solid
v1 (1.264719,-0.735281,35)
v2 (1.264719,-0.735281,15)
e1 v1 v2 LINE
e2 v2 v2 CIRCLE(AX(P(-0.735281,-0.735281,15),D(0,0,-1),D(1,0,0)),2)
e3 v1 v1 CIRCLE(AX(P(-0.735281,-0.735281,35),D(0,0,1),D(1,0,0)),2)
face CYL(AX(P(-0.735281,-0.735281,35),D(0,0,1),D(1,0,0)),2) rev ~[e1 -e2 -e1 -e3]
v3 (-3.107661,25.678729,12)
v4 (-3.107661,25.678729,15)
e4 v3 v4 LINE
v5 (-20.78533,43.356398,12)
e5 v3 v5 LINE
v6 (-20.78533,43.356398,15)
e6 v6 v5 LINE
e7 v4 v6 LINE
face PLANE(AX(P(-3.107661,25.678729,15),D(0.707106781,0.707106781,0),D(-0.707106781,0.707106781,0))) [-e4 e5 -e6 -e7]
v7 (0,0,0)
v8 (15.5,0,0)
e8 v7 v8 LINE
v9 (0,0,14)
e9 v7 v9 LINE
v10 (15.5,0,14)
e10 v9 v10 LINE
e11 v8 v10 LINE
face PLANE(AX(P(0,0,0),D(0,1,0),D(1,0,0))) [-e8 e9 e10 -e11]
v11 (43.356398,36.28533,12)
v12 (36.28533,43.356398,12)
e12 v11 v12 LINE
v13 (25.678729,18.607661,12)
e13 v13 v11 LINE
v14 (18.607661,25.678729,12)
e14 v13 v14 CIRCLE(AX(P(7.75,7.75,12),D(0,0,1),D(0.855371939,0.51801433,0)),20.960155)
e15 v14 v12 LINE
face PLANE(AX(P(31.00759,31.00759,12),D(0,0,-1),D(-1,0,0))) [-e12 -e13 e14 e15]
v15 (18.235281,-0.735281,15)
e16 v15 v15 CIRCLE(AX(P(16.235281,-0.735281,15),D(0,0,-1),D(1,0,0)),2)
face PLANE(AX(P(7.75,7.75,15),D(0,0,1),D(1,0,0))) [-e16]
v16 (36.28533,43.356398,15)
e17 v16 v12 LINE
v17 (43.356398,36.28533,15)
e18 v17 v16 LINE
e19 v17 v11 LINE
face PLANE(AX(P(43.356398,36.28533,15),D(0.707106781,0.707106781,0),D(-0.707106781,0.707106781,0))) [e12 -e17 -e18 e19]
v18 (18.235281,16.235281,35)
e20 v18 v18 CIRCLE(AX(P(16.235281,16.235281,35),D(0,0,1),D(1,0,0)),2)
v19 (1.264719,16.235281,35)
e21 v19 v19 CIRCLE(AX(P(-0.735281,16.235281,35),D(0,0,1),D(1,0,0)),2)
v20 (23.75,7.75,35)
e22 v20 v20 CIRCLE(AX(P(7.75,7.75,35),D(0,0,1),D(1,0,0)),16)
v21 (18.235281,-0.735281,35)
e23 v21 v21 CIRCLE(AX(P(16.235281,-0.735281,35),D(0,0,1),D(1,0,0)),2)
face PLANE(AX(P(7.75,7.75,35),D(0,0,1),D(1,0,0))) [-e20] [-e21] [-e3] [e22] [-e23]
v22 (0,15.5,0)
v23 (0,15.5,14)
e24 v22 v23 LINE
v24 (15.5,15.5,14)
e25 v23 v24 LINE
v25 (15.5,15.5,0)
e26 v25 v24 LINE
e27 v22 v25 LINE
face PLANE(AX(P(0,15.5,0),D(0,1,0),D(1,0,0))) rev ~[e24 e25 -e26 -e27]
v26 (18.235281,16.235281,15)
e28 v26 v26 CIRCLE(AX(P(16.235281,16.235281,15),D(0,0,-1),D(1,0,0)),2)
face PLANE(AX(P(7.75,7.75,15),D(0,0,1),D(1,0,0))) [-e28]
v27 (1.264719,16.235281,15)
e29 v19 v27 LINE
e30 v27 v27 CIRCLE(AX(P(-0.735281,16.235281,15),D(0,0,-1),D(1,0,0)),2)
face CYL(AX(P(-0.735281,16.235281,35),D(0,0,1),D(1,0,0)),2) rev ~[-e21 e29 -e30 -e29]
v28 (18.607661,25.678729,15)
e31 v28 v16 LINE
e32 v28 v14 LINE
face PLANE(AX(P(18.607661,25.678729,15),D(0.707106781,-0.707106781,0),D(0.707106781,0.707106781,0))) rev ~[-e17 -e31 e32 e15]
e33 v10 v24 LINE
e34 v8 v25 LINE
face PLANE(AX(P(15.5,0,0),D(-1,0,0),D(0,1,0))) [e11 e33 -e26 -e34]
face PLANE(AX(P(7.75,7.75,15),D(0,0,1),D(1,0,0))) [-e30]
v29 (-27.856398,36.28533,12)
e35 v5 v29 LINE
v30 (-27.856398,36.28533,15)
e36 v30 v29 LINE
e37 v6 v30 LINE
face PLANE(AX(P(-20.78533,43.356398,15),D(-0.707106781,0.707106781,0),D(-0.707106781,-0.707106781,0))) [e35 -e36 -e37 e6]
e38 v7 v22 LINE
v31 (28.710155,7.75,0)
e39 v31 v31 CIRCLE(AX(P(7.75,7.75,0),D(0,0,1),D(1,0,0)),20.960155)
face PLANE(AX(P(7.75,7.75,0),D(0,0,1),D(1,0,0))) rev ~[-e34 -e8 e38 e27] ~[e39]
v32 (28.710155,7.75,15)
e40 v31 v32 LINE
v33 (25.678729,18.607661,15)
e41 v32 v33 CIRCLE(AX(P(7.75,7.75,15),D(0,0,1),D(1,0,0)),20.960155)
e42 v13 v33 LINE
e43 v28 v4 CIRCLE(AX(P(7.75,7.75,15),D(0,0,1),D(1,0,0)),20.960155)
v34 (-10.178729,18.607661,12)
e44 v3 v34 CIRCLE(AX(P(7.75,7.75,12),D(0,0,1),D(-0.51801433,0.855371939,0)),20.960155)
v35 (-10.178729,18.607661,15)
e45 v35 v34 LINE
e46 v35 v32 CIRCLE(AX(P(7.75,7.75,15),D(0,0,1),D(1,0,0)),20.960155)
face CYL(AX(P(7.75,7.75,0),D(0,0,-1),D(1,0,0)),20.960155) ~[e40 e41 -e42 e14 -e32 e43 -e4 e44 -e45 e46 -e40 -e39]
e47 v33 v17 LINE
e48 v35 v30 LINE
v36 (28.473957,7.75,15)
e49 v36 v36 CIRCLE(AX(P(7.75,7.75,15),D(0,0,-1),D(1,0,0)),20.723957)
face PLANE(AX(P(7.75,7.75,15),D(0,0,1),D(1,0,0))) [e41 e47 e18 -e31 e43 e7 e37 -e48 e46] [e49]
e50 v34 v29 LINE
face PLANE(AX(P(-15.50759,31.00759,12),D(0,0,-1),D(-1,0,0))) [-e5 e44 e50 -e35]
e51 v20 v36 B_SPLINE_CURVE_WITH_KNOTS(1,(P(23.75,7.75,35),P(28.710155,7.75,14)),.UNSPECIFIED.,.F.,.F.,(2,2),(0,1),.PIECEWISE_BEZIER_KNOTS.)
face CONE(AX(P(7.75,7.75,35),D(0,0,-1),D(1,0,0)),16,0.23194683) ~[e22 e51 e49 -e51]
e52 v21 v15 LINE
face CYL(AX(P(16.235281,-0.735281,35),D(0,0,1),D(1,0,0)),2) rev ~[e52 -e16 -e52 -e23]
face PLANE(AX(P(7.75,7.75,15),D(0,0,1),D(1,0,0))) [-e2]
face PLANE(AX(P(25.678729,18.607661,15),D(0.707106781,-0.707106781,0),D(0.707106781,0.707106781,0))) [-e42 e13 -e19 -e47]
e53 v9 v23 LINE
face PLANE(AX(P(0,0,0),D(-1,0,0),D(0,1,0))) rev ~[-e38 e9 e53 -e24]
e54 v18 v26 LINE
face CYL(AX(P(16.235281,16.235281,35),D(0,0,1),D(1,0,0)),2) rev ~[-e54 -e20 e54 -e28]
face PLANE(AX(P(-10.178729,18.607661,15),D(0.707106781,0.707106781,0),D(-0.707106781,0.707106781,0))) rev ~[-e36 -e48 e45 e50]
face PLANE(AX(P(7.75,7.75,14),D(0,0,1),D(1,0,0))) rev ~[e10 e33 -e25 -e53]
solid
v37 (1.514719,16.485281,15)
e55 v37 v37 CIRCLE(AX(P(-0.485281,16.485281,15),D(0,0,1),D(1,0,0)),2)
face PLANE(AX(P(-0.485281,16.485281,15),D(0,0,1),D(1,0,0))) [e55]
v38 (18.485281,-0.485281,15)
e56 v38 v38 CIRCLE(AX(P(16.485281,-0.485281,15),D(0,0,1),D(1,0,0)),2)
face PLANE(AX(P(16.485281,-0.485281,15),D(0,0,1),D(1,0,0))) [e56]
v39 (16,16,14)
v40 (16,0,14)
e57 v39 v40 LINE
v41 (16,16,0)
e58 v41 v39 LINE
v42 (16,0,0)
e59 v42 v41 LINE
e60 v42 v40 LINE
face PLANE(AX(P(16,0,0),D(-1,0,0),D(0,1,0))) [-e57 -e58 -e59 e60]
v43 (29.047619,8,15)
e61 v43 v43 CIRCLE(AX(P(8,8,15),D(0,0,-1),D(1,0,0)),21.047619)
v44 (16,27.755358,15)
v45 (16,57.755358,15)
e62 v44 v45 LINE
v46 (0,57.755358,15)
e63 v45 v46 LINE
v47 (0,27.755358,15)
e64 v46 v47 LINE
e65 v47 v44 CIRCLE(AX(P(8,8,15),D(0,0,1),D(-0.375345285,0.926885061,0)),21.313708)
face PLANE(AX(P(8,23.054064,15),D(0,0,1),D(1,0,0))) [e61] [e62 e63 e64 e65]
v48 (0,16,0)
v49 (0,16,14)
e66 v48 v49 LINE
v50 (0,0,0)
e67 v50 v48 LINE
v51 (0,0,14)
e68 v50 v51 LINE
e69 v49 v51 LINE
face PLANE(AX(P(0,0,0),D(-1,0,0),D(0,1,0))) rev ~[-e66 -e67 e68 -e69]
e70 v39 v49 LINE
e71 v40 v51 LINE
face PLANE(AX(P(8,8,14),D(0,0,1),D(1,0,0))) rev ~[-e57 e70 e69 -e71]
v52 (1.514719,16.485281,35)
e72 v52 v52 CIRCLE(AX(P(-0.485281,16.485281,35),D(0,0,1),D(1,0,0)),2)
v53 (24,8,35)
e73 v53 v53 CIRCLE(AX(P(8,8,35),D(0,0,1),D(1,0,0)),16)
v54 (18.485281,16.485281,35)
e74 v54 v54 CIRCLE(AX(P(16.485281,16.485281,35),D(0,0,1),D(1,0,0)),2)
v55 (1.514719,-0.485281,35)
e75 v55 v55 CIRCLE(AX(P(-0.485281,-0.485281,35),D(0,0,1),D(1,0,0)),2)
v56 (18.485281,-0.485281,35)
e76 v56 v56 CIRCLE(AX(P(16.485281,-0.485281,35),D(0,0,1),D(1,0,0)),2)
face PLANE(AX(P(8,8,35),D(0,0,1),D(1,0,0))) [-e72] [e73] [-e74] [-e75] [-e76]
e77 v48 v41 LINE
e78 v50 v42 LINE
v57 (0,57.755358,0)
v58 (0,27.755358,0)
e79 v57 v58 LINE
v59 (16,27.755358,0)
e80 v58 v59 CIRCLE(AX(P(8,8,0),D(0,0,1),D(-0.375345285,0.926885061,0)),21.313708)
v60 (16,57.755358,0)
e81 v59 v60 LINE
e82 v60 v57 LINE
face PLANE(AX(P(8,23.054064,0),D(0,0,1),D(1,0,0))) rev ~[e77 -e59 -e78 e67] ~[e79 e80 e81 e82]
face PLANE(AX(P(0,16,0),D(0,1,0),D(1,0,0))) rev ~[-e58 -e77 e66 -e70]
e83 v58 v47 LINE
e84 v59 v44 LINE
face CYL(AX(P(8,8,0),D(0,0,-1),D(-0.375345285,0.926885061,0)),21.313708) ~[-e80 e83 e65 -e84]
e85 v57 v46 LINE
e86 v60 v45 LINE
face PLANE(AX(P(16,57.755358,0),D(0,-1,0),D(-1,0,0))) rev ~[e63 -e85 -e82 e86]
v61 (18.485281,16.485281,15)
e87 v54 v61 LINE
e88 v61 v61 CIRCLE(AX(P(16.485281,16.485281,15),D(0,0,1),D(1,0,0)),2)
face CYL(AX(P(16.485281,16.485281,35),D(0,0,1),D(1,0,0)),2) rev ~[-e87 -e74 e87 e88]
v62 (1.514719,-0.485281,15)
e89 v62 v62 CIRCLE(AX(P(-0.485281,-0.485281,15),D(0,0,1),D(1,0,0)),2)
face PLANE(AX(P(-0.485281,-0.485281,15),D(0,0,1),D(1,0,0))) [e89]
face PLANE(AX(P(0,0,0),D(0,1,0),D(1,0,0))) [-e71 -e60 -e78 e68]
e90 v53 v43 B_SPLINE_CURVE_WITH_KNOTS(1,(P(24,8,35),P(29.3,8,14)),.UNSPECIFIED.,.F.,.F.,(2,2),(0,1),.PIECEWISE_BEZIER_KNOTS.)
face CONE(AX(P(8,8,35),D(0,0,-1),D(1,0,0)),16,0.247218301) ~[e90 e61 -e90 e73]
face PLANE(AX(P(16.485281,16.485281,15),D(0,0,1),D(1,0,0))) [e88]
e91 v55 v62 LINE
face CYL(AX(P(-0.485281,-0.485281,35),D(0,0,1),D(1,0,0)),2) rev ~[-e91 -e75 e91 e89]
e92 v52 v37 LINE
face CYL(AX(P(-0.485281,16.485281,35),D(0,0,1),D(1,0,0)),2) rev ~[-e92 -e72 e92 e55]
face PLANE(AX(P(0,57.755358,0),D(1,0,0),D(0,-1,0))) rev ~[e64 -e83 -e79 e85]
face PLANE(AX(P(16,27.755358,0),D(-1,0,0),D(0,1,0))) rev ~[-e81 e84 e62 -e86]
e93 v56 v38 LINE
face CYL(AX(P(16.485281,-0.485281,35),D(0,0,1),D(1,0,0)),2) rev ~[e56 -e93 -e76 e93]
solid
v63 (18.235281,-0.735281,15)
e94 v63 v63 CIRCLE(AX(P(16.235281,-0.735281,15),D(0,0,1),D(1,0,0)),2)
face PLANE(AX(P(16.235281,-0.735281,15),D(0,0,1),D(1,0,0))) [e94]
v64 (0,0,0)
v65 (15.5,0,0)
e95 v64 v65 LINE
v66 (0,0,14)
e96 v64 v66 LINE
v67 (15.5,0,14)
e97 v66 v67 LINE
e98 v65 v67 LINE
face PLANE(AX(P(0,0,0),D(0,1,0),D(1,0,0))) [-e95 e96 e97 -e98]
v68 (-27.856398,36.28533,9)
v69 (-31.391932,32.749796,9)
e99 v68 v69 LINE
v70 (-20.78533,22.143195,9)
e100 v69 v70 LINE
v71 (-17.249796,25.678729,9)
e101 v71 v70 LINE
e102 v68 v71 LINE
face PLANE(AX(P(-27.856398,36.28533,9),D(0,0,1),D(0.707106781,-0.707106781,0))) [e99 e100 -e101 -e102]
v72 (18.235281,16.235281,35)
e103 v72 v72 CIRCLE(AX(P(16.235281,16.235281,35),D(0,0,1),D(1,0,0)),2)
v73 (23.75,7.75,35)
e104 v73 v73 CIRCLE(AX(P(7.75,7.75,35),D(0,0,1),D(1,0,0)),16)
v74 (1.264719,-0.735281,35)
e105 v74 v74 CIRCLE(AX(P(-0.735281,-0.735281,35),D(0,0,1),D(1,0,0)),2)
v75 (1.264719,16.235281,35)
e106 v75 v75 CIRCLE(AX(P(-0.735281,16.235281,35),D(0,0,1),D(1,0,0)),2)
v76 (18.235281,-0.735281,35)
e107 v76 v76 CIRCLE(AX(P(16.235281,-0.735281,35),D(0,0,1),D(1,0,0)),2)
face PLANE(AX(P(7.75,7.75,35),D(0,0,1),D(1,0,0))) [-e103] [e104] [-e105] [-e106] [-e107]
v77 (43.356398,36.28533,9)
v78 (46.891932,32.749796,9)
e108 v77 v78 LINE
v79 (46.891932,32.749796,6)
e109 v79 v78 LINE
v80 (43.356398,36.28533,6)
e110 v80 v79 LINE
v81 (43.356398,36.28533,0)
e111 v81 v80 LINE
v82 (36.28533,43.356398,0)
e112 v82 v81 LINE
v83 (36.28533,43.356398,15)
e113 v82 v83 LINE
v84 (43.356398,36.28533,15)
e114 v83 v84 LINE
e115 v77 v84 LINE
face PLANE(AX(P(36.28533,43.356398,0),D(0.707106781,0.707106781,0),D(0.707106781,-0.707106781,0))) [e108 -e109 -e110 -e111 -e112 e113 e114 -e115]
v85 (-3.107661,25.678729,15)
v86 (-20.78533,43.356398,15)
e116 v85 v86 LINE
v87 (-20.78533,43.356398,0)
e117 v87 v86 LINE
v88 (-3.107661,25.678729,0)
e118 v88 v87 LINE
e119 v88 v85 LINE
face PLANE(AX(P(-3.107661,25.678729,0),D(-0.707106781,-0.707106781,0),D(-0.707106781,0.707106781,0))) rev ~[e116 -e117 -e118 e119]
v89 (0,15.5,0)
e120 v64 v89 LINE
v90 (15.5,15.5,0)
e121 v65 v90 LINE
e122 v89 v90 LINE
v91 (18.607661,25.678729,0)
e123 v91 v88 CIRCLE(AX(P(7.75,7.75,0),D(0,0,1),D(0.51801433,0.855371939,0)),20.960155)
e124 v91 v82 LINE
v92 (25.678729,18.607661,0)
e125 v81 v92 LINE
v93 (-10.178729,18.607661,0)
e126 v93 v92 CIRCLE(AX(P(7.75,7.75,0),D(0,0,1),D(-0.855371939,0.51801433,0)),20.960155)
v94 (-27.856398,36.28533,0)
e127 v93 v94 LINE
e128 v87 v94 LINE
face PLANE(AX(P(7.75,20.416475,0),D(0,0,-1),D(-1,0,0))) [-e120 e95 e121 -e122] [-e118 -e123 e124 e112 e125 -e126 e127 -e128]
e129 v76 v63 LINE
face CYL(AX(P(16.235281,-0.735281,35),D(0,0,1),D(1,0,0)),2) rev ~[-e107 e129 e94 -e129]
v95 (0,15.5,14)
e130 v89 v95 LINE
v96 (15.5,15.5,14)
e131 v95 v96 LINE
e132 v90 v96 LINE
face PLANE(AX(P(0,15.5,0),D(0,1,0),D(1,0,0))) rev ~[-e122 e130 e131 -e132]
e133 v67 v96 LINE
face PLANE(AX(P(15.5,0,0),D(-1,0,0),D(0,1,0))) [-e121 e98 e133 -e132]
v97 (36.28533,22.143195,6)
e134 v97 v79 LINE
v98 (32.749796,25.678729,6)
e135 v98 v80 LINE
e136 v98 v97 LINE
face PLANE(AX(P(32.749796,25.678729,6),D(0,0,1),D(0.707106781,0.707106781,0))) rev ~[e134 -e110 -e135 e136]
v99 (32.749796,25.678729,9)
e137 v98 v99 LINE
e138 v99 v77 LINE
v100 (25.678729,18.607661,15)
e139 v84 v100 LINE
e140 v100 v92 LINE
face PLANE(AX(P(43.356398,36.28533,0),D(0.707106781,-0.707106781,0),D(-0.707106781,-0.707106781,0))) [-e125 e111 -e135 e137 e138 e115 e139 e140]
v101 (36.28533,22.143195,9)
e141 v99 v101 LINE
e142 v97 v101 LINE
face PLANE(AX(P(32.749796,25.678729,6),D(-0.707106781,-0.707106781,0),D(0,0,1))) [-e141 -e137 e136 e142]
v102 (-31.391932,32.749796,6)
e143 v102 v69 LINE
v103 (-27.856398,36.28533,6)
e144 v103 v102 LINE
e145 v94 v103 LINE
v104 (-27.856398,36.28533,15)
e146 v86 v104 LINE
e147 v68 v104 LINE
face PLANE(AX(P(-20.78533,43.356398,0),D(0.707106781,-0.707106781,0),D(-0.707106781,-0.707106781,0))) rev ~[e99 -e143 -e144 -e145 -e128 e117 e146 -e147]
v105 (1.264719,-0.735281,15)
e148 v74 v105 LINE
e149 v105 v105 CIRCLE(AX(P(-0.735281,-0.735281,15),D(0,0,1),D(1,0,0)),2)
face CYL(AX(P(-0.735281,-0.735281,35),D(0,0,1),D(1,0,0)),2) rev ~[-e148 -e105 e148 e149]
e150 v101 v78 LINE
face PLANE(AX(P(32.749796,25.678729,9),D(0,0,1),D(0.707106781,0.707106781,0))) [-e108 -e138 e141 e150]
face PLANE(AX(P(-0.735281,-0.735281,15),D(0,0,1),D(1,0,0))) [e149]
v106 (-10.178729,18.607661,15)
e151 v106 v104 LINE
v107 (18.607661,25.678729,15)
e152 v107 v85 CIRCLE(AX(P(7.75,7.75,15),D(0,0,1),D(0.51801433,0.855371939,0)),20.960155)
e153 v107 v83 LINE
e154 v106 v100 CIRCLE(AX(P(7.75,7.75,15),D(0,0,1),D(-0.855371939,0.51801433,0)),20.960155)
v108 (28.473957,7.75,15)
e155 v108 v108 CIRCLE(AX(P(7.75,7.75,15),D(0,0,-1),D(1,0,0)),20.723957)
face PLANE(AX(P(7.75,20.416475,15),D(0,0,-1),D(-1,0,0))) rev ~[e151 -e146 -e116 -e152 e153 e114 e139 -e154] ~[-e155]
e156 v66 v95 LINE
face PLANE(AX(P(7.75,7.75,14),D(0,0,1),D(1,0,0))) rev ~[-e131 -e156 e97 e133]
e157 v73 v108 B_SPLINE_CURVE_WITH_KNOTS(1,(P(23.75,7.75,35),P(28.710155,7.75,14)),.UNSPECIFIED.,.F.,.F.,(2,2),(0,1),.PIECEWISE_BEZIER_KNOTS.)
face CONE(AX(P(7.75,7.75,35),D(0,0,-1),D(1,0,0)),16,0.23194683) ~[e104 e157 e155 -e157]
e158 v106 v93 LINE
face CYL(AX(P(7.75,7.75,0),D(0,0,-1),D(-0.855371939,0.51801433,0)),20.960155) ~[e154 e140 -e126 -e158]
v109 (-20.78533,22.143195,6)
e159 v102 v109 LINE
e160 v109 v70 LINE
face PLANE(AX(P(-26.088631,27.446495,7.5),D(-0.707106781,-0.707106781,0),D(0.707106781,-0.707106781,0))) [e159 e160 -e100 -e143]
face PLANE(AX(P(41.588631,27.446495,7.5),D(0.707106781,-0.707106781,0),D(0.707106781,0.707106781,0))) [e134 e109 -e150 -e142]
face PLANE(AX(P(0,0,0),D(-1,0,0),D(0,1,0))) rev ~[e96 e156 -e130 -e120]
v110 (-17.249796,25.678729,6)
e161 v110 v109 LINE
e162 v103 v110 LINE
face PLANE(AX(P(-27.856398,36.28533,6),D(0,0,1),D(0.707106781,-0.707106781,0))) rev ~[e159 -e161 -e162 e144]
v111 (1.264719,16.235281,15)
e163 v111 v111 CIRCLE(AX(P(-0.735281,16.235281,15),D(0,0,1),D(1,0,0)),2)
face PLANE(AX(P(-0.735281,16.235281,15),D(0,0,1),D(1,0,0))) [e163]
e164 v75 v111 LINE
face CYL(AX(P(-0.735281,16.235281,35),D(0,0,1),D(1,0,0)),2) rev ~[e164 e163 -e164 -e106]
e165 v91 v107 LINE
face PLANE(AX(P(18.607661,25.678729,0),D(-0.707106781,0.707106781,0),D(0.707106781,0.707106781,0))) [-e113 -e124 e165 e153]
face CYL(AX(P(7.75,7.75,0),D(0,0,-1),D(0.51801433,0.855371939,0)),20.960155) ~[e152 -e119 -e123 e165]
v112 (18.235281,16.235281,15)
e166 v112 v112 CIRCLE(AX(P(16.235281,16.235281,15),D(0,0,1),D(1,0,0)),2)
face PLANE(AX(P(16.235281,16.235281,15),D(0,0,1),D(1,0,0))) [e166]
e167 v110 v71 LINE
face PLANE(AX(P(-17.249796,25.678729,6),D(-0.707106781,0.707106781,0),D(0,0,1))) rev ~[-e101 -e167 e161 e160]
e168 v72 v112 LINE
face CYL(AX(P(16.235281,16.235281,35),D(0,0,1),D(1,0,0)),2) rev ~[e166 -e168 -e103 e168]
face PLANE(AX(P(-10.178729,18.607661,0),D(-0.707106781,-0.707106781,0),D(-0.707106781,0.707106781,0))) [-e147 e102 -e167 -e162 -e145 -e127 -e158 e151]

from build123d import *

# Parameters (mm, degrees)
SKETCH005_R                               = 2
EXTRUDE001_DEPTH                          = 20
SKETCH_W                                  = 16
SKETCH_H                                  = 16
EXTRUDE_DEPTH                             = 15
SKETCH003_R                               = 16
SKETCH004_R                               = 21.3
SKETCH010_AS_DRAWN_W                      = 15
SKETCH010_AS_DRAWN_H                      = 3
EXTRUDE004_DEPTH                          = 5
EXTRUDE004_ONTO_SKETCH010_ROLL_ANGLE      = 90
EXTRUDE004_ONTO_SKETCH010_PLACEMENT_ANGLE = 45
SKETCH011_AS_DRAWN_W                      = 15
SKETCH011_AS_DRAWN_H                      = 3
EXTRUDE005_DEPTH                          = 5
EXTRUDE005_ONTO_SKETCH011_ROLL_ANGLE      = 90
EXTRUDE005_ONTO_SKETCH011_PLACEMENT_ANGLE = -45
SKETCH009_R                               = 2
EXTRUDE003_DEPTH                          = 20
SKETCH007_R                               = 16
SKETCH008_R                               = 20.9601551084
SKETCH006_W                               = 15.5
SKETCH006_H                               = 15.5
EXTRUDE002_DEPTH                          = 15
EXTRUDE008_DEPTH                          = 3
SKETCH015_R                               = 2
EXTRUDE007_DEPTH                          = 20
SKETCH013_R                               = 16
SKETCH014_R                               = 20.9601551084
SKETCH012_R                               = 20.9601551084
SKETCH012_W                               = 15.5
SKETCH012_H                               = 15.5
EXTRUDE006_DEPTH                          = 15


with BuildPart() as screwholes:
    # Sketch005 (on Face2 of Loft) → Extrude001 (new body)
    with BuildSketch(Plane.XY.offset(35)):
        with Locations((16.4852813742, 16.4852813742)):
            Circle(SKETCH005_R)
        with Locations((-0.4852813742, 16.4852813742)):
            Circle(SKETCH005_R)
        with Locations((-0.4852813742, -0.4852813742)):
            Circle(SKETCH005_R)
        with Locations((16.4852813742, -0.4852813742)):
            Circle(SKETCH005_R)
    extrude(amount=-EXTRUDE001_DEPTH)


with BuildPart() as socket:
    # Sketch → Extrude (new body)
    with BuildSketch(Plane.XY):
        with BuildLine():
            ThreePointArc((0, 27.7553580069), (8, -13.313708499), (16, 27.7553580069))
            Line((16, 27.7553580069), (16, 57.7553580069))
            Line((16, 57.7553580069), (0, 57.7553580069))
            Line((0, 57.7553580069), (0, 27.7553580069))
        make_face()
        with Locations((8, 8)):
            Rectangle(SKETCH_W, SKETCH_H, mode=Mode.SUBTRACT)
    extrude(amount=EXTRUDE_DEPTH)


with BuildPart() as adapter:
    # Sketch003 (on Face10 of Extrude) → Loft section 0
    with BuildSketch(Plane.XY.offset(35)):
        with Locations((8, 8)):
            Circle(SKETCH003_R)
    # Sketch004 (on Face10 of Extrude) → Loft section 1
    with BuildSketch(Plane.XY.offset(14)):
        with Locations((8, 8)):
            Circle(SKETCH004_R)
    loft()

    # Fusion: union Socket
    add(socket.part)

    # Cut: cut ScrewHoles
    add(screwholes.part, mode=Mode.SUBTRACT)


with BuildPart() as extrude004:
    # Sketch010 as drawn → Extrude004 (new)
    with BuildSketch(Plane.XY):
        with Locations((48.8152061319, 7.5)):
            Rectangle(SKETCH010_AS_DRAWN_W, SKETCH010_AS_DRAWN_H)
    extrude(amount=EXTRUDE004_DEPTH)


with BuildPart() as extrude004_1:
    # Extrude004 onto Sketch010 roll: moved
    add(extrude004.part.rotate(Axis((0, 0, 0), (1, 0, 0)), EXTRUDE004_ONTO_SKETCH010_ROLL_ANGLE))


with BuildPart() as extrude004_2:
    # Extrude004 onto Sketch010 placement: moved
    add(extrude004_1.part.moved(Location((3.5355339059, -3.5355339059, 0))).rotate(Axis((3.5355339059, -3.5355339059, 0), (0, 0, 1)), EXTRUDE004_ONTO_SKETCH010_PLACEMENT_ANGLE))


with BuildPart() as extrude005:
    # Sketch011 as drawn → Extrude005 (new)
    with BuildSketch(Plane.XY):
        with Locations((-37.8550510235, 7.5)):
            Rectangle(SKETCH011_AS_DRAWN_W, SKETCH011_AS_DRAWN_H)
    extrude(amount=EXTRUDE005_DEPTH)


with BuildPart() as extrude005_1:
    # Extrude005 onto Sketch011 roll: moved
    add(extrude005.part.rotate(Axis((0, 0, 0), (1, 0, 0)), EXTRUDE005_ONTO_SKETCH011_ROLL_ANGLE))


with BuildPart() as extrude005_2:
    # Extrude005 onto Sketch011 placement: moved
    add(extrude005_1.part.moved(Location((4.2144660941, 4.2144660941, 0))).rotate(Axis((4.2144660941, 4.2144660941, 0), (0, 0, 1)), EXTRUDE005_ONTO_SKETCH011_PLACEMENT_ANGLE))


with BuildPart() as screwholes001:
    # Sketch009 (on Face2 of Loft001) → Extrude003 (new body)
    with BuildSketch(Plane.XY.offset(35)):
        with Locations((16.2352813742, 16.2352813742)):
            Circle(SKETCH009_R)
        with Locations((-0.7352813742, 16.2352813742)):
            Circle(SKETCH009_R)
        with Locations((-0.7352813742, -0.7352813742)):
            Circle(SKETCH009_R)
        with Locations((16.2352813742, -0.7352813742)):
            Circle(SKETCH009_R)
    extrude(amount=-EXTRUDE003_DEPTH)


with BuildPart() as shaft001:
    # Sketch007 (on Face14 of Extrude002) → Loft001 section 0
    with BuildSketch(Plane.XY.offset(35)):
        with Locations((7.75, 7.75)):
            Circle(SKETCH007_R)
    # Sketch008 (on Face14 of Extrude002) → Loft001 section 1
    with BuildSketch(Plane.XY.offset(14)):
        with Locations((7.75, 7.75)):
            Circle(SKETCH008_R)
    loft()


with BuildPart() as adapterv2fins:
    # Sketch006 → Extrude002 (new body)
    with BuildSketch(Plane.XY):
        with BuildLine():
            Line((36.2853302338, 43.3563980457), (43.3563980457, 36.2853302338))
            Line((43.3563980457, 36.2853302338), (25.678728516, 18.6076607042))
            ThreePointArc((-10.178728516, 18.6076607042), (7.75, -13.2101551084), (25.678728516, 18.6076607042))
            Line((-10.178728516, 18.6076607042), (-27.8563980457, 36.2853302338))
            Line((-20.7853302338, 43.3563980457), (-27.8563980457, 36.2853302338))
            Line((-3.1076607041, 25.678728516), (-20.7853302338, 43.3563980457))
            ThreePointArc((18.6076607042, 25.678728516), (7.75, 28.7101551084), (-3.1076607041, 25.678728516))
            Line((18.6076607042, 25.678728516), (36.2853302338, 43.3563980457))
        make_face()
        with Locations((7.75, 7.75)):
            Rectangle(SKETCH006_W, SKETCH006_H, mode=Mode.SUBTRACT)
    extrude(amount=EXTRUDE002_DEPTH)

    # Fusion001: union Shaft001
    add(shaft001.part)

    # Cut001: cut ScrewHoles001
    add(screwholes001.part, mode=Mode.SUBTRACT)

    # Fusion002: union Extrude004, Extrude005
    add(extrude004_2.part)
    add(extrude005_2.part)


with BuildPart() as blades:
    # Sketch016 (on Face7 of Extrude006) → Extrude008 (new body)
    with BuildSketch(Plane.XY.offset(15)):
        with BuildLine():
            Line((18.6076607042, 25.678728516), (36.2853302338, 43.3563980457))
            Line((43.3563980457, 36.2853302338), (36.2853302338, 43.3563980457))
            Line((25.678728516, 18.6076607042), (43.3563980457, 36.2853302338))
            ThreePointArc((25.678728516, 18.6076607042), (22.5710678119, 22.5710678119), (18.6076607042, 25.678728516))
        make_face()
        with BuildLine():
            Line((-10.178728516, 18.6076607042), (-27.8563980457, 36.2853302338))
            Line((-20.7853302338, 43.3563980457), (-27.8563980457, 36.2853302338))
            Line((-3.1076607042, 25.678728516), (-20.7853302338, 43.3563980457))
            ThreePointArc((-3.1076607042, 25.678728516), (-7.0710678119, 22.5710678119), (-10.178728516, 18.6076607042))
        make_face()
    extrude(amount=-EXTRUDE008_DEPTH)


with BuildPart() as screwholes002:
    # Sketch015 (on Face2 of Loft002) → Extrude007 (new body)
    with BuildSketch(Plane.XY.offset(35)):
        with Locations((16.2352813742, 16.2352813742)):
            Circle(SKETCH015_R)
        with Locations((-0.7352813742, 16.2352813742)):
            Circle(SKETCH015_R)
        with Locations((-0.7352813742, -0.7352813742)):
            Circle(SKETCH015_R)
        with Locations((16.2352813742, -0.7352813742)):
            Circle(SKETCH015_R)
    extrude(amount=-EXTRUDE007_DEPTH)


with BuildPart() as shaftscrews:
    # Sketch013 (on Face7 of Extrude006) → Loft002 section 0
    with BuildSketch(Plane.XY.offset(35)):
        with Locations((7.75, 7.75)):
            Circle(SKETCH013_R)
    # Sketch014 (on Face7 of Extrude006) → Loft002 section 1
    with BuildSketch(Plane.XY.offset(14)):
        with Locations((7.75, 7.75)):
            Circle(SKETCH014_R)
    loft()

    # Cut002: cut ScrewHoles002
    add(screwholes002.part, mode=Mode.SUBTRACT)


with BuildPart() as adapterv3blades:
    # Sketch012 → Extrude006 (new body)
    with BuildSketch(Plane.XY):
        with Locations((7.75, 7.75)):
            Circle(SKETCH012_R)
        with Locations((7.75, 7.75)):
            Rectangle(SKETCH012_W, SKETCH012_H, mode=Mode.SUBTRACT)
    extrude(amount=EXTRUDE006_DEPTH)

    # Fusion003: union Blades, ShaftScrews
    add(blades.part)
    add(shaftscrews.part)


solid = Compound([adapter.part, adapterv2fins.part, adapterv3blades.part])
